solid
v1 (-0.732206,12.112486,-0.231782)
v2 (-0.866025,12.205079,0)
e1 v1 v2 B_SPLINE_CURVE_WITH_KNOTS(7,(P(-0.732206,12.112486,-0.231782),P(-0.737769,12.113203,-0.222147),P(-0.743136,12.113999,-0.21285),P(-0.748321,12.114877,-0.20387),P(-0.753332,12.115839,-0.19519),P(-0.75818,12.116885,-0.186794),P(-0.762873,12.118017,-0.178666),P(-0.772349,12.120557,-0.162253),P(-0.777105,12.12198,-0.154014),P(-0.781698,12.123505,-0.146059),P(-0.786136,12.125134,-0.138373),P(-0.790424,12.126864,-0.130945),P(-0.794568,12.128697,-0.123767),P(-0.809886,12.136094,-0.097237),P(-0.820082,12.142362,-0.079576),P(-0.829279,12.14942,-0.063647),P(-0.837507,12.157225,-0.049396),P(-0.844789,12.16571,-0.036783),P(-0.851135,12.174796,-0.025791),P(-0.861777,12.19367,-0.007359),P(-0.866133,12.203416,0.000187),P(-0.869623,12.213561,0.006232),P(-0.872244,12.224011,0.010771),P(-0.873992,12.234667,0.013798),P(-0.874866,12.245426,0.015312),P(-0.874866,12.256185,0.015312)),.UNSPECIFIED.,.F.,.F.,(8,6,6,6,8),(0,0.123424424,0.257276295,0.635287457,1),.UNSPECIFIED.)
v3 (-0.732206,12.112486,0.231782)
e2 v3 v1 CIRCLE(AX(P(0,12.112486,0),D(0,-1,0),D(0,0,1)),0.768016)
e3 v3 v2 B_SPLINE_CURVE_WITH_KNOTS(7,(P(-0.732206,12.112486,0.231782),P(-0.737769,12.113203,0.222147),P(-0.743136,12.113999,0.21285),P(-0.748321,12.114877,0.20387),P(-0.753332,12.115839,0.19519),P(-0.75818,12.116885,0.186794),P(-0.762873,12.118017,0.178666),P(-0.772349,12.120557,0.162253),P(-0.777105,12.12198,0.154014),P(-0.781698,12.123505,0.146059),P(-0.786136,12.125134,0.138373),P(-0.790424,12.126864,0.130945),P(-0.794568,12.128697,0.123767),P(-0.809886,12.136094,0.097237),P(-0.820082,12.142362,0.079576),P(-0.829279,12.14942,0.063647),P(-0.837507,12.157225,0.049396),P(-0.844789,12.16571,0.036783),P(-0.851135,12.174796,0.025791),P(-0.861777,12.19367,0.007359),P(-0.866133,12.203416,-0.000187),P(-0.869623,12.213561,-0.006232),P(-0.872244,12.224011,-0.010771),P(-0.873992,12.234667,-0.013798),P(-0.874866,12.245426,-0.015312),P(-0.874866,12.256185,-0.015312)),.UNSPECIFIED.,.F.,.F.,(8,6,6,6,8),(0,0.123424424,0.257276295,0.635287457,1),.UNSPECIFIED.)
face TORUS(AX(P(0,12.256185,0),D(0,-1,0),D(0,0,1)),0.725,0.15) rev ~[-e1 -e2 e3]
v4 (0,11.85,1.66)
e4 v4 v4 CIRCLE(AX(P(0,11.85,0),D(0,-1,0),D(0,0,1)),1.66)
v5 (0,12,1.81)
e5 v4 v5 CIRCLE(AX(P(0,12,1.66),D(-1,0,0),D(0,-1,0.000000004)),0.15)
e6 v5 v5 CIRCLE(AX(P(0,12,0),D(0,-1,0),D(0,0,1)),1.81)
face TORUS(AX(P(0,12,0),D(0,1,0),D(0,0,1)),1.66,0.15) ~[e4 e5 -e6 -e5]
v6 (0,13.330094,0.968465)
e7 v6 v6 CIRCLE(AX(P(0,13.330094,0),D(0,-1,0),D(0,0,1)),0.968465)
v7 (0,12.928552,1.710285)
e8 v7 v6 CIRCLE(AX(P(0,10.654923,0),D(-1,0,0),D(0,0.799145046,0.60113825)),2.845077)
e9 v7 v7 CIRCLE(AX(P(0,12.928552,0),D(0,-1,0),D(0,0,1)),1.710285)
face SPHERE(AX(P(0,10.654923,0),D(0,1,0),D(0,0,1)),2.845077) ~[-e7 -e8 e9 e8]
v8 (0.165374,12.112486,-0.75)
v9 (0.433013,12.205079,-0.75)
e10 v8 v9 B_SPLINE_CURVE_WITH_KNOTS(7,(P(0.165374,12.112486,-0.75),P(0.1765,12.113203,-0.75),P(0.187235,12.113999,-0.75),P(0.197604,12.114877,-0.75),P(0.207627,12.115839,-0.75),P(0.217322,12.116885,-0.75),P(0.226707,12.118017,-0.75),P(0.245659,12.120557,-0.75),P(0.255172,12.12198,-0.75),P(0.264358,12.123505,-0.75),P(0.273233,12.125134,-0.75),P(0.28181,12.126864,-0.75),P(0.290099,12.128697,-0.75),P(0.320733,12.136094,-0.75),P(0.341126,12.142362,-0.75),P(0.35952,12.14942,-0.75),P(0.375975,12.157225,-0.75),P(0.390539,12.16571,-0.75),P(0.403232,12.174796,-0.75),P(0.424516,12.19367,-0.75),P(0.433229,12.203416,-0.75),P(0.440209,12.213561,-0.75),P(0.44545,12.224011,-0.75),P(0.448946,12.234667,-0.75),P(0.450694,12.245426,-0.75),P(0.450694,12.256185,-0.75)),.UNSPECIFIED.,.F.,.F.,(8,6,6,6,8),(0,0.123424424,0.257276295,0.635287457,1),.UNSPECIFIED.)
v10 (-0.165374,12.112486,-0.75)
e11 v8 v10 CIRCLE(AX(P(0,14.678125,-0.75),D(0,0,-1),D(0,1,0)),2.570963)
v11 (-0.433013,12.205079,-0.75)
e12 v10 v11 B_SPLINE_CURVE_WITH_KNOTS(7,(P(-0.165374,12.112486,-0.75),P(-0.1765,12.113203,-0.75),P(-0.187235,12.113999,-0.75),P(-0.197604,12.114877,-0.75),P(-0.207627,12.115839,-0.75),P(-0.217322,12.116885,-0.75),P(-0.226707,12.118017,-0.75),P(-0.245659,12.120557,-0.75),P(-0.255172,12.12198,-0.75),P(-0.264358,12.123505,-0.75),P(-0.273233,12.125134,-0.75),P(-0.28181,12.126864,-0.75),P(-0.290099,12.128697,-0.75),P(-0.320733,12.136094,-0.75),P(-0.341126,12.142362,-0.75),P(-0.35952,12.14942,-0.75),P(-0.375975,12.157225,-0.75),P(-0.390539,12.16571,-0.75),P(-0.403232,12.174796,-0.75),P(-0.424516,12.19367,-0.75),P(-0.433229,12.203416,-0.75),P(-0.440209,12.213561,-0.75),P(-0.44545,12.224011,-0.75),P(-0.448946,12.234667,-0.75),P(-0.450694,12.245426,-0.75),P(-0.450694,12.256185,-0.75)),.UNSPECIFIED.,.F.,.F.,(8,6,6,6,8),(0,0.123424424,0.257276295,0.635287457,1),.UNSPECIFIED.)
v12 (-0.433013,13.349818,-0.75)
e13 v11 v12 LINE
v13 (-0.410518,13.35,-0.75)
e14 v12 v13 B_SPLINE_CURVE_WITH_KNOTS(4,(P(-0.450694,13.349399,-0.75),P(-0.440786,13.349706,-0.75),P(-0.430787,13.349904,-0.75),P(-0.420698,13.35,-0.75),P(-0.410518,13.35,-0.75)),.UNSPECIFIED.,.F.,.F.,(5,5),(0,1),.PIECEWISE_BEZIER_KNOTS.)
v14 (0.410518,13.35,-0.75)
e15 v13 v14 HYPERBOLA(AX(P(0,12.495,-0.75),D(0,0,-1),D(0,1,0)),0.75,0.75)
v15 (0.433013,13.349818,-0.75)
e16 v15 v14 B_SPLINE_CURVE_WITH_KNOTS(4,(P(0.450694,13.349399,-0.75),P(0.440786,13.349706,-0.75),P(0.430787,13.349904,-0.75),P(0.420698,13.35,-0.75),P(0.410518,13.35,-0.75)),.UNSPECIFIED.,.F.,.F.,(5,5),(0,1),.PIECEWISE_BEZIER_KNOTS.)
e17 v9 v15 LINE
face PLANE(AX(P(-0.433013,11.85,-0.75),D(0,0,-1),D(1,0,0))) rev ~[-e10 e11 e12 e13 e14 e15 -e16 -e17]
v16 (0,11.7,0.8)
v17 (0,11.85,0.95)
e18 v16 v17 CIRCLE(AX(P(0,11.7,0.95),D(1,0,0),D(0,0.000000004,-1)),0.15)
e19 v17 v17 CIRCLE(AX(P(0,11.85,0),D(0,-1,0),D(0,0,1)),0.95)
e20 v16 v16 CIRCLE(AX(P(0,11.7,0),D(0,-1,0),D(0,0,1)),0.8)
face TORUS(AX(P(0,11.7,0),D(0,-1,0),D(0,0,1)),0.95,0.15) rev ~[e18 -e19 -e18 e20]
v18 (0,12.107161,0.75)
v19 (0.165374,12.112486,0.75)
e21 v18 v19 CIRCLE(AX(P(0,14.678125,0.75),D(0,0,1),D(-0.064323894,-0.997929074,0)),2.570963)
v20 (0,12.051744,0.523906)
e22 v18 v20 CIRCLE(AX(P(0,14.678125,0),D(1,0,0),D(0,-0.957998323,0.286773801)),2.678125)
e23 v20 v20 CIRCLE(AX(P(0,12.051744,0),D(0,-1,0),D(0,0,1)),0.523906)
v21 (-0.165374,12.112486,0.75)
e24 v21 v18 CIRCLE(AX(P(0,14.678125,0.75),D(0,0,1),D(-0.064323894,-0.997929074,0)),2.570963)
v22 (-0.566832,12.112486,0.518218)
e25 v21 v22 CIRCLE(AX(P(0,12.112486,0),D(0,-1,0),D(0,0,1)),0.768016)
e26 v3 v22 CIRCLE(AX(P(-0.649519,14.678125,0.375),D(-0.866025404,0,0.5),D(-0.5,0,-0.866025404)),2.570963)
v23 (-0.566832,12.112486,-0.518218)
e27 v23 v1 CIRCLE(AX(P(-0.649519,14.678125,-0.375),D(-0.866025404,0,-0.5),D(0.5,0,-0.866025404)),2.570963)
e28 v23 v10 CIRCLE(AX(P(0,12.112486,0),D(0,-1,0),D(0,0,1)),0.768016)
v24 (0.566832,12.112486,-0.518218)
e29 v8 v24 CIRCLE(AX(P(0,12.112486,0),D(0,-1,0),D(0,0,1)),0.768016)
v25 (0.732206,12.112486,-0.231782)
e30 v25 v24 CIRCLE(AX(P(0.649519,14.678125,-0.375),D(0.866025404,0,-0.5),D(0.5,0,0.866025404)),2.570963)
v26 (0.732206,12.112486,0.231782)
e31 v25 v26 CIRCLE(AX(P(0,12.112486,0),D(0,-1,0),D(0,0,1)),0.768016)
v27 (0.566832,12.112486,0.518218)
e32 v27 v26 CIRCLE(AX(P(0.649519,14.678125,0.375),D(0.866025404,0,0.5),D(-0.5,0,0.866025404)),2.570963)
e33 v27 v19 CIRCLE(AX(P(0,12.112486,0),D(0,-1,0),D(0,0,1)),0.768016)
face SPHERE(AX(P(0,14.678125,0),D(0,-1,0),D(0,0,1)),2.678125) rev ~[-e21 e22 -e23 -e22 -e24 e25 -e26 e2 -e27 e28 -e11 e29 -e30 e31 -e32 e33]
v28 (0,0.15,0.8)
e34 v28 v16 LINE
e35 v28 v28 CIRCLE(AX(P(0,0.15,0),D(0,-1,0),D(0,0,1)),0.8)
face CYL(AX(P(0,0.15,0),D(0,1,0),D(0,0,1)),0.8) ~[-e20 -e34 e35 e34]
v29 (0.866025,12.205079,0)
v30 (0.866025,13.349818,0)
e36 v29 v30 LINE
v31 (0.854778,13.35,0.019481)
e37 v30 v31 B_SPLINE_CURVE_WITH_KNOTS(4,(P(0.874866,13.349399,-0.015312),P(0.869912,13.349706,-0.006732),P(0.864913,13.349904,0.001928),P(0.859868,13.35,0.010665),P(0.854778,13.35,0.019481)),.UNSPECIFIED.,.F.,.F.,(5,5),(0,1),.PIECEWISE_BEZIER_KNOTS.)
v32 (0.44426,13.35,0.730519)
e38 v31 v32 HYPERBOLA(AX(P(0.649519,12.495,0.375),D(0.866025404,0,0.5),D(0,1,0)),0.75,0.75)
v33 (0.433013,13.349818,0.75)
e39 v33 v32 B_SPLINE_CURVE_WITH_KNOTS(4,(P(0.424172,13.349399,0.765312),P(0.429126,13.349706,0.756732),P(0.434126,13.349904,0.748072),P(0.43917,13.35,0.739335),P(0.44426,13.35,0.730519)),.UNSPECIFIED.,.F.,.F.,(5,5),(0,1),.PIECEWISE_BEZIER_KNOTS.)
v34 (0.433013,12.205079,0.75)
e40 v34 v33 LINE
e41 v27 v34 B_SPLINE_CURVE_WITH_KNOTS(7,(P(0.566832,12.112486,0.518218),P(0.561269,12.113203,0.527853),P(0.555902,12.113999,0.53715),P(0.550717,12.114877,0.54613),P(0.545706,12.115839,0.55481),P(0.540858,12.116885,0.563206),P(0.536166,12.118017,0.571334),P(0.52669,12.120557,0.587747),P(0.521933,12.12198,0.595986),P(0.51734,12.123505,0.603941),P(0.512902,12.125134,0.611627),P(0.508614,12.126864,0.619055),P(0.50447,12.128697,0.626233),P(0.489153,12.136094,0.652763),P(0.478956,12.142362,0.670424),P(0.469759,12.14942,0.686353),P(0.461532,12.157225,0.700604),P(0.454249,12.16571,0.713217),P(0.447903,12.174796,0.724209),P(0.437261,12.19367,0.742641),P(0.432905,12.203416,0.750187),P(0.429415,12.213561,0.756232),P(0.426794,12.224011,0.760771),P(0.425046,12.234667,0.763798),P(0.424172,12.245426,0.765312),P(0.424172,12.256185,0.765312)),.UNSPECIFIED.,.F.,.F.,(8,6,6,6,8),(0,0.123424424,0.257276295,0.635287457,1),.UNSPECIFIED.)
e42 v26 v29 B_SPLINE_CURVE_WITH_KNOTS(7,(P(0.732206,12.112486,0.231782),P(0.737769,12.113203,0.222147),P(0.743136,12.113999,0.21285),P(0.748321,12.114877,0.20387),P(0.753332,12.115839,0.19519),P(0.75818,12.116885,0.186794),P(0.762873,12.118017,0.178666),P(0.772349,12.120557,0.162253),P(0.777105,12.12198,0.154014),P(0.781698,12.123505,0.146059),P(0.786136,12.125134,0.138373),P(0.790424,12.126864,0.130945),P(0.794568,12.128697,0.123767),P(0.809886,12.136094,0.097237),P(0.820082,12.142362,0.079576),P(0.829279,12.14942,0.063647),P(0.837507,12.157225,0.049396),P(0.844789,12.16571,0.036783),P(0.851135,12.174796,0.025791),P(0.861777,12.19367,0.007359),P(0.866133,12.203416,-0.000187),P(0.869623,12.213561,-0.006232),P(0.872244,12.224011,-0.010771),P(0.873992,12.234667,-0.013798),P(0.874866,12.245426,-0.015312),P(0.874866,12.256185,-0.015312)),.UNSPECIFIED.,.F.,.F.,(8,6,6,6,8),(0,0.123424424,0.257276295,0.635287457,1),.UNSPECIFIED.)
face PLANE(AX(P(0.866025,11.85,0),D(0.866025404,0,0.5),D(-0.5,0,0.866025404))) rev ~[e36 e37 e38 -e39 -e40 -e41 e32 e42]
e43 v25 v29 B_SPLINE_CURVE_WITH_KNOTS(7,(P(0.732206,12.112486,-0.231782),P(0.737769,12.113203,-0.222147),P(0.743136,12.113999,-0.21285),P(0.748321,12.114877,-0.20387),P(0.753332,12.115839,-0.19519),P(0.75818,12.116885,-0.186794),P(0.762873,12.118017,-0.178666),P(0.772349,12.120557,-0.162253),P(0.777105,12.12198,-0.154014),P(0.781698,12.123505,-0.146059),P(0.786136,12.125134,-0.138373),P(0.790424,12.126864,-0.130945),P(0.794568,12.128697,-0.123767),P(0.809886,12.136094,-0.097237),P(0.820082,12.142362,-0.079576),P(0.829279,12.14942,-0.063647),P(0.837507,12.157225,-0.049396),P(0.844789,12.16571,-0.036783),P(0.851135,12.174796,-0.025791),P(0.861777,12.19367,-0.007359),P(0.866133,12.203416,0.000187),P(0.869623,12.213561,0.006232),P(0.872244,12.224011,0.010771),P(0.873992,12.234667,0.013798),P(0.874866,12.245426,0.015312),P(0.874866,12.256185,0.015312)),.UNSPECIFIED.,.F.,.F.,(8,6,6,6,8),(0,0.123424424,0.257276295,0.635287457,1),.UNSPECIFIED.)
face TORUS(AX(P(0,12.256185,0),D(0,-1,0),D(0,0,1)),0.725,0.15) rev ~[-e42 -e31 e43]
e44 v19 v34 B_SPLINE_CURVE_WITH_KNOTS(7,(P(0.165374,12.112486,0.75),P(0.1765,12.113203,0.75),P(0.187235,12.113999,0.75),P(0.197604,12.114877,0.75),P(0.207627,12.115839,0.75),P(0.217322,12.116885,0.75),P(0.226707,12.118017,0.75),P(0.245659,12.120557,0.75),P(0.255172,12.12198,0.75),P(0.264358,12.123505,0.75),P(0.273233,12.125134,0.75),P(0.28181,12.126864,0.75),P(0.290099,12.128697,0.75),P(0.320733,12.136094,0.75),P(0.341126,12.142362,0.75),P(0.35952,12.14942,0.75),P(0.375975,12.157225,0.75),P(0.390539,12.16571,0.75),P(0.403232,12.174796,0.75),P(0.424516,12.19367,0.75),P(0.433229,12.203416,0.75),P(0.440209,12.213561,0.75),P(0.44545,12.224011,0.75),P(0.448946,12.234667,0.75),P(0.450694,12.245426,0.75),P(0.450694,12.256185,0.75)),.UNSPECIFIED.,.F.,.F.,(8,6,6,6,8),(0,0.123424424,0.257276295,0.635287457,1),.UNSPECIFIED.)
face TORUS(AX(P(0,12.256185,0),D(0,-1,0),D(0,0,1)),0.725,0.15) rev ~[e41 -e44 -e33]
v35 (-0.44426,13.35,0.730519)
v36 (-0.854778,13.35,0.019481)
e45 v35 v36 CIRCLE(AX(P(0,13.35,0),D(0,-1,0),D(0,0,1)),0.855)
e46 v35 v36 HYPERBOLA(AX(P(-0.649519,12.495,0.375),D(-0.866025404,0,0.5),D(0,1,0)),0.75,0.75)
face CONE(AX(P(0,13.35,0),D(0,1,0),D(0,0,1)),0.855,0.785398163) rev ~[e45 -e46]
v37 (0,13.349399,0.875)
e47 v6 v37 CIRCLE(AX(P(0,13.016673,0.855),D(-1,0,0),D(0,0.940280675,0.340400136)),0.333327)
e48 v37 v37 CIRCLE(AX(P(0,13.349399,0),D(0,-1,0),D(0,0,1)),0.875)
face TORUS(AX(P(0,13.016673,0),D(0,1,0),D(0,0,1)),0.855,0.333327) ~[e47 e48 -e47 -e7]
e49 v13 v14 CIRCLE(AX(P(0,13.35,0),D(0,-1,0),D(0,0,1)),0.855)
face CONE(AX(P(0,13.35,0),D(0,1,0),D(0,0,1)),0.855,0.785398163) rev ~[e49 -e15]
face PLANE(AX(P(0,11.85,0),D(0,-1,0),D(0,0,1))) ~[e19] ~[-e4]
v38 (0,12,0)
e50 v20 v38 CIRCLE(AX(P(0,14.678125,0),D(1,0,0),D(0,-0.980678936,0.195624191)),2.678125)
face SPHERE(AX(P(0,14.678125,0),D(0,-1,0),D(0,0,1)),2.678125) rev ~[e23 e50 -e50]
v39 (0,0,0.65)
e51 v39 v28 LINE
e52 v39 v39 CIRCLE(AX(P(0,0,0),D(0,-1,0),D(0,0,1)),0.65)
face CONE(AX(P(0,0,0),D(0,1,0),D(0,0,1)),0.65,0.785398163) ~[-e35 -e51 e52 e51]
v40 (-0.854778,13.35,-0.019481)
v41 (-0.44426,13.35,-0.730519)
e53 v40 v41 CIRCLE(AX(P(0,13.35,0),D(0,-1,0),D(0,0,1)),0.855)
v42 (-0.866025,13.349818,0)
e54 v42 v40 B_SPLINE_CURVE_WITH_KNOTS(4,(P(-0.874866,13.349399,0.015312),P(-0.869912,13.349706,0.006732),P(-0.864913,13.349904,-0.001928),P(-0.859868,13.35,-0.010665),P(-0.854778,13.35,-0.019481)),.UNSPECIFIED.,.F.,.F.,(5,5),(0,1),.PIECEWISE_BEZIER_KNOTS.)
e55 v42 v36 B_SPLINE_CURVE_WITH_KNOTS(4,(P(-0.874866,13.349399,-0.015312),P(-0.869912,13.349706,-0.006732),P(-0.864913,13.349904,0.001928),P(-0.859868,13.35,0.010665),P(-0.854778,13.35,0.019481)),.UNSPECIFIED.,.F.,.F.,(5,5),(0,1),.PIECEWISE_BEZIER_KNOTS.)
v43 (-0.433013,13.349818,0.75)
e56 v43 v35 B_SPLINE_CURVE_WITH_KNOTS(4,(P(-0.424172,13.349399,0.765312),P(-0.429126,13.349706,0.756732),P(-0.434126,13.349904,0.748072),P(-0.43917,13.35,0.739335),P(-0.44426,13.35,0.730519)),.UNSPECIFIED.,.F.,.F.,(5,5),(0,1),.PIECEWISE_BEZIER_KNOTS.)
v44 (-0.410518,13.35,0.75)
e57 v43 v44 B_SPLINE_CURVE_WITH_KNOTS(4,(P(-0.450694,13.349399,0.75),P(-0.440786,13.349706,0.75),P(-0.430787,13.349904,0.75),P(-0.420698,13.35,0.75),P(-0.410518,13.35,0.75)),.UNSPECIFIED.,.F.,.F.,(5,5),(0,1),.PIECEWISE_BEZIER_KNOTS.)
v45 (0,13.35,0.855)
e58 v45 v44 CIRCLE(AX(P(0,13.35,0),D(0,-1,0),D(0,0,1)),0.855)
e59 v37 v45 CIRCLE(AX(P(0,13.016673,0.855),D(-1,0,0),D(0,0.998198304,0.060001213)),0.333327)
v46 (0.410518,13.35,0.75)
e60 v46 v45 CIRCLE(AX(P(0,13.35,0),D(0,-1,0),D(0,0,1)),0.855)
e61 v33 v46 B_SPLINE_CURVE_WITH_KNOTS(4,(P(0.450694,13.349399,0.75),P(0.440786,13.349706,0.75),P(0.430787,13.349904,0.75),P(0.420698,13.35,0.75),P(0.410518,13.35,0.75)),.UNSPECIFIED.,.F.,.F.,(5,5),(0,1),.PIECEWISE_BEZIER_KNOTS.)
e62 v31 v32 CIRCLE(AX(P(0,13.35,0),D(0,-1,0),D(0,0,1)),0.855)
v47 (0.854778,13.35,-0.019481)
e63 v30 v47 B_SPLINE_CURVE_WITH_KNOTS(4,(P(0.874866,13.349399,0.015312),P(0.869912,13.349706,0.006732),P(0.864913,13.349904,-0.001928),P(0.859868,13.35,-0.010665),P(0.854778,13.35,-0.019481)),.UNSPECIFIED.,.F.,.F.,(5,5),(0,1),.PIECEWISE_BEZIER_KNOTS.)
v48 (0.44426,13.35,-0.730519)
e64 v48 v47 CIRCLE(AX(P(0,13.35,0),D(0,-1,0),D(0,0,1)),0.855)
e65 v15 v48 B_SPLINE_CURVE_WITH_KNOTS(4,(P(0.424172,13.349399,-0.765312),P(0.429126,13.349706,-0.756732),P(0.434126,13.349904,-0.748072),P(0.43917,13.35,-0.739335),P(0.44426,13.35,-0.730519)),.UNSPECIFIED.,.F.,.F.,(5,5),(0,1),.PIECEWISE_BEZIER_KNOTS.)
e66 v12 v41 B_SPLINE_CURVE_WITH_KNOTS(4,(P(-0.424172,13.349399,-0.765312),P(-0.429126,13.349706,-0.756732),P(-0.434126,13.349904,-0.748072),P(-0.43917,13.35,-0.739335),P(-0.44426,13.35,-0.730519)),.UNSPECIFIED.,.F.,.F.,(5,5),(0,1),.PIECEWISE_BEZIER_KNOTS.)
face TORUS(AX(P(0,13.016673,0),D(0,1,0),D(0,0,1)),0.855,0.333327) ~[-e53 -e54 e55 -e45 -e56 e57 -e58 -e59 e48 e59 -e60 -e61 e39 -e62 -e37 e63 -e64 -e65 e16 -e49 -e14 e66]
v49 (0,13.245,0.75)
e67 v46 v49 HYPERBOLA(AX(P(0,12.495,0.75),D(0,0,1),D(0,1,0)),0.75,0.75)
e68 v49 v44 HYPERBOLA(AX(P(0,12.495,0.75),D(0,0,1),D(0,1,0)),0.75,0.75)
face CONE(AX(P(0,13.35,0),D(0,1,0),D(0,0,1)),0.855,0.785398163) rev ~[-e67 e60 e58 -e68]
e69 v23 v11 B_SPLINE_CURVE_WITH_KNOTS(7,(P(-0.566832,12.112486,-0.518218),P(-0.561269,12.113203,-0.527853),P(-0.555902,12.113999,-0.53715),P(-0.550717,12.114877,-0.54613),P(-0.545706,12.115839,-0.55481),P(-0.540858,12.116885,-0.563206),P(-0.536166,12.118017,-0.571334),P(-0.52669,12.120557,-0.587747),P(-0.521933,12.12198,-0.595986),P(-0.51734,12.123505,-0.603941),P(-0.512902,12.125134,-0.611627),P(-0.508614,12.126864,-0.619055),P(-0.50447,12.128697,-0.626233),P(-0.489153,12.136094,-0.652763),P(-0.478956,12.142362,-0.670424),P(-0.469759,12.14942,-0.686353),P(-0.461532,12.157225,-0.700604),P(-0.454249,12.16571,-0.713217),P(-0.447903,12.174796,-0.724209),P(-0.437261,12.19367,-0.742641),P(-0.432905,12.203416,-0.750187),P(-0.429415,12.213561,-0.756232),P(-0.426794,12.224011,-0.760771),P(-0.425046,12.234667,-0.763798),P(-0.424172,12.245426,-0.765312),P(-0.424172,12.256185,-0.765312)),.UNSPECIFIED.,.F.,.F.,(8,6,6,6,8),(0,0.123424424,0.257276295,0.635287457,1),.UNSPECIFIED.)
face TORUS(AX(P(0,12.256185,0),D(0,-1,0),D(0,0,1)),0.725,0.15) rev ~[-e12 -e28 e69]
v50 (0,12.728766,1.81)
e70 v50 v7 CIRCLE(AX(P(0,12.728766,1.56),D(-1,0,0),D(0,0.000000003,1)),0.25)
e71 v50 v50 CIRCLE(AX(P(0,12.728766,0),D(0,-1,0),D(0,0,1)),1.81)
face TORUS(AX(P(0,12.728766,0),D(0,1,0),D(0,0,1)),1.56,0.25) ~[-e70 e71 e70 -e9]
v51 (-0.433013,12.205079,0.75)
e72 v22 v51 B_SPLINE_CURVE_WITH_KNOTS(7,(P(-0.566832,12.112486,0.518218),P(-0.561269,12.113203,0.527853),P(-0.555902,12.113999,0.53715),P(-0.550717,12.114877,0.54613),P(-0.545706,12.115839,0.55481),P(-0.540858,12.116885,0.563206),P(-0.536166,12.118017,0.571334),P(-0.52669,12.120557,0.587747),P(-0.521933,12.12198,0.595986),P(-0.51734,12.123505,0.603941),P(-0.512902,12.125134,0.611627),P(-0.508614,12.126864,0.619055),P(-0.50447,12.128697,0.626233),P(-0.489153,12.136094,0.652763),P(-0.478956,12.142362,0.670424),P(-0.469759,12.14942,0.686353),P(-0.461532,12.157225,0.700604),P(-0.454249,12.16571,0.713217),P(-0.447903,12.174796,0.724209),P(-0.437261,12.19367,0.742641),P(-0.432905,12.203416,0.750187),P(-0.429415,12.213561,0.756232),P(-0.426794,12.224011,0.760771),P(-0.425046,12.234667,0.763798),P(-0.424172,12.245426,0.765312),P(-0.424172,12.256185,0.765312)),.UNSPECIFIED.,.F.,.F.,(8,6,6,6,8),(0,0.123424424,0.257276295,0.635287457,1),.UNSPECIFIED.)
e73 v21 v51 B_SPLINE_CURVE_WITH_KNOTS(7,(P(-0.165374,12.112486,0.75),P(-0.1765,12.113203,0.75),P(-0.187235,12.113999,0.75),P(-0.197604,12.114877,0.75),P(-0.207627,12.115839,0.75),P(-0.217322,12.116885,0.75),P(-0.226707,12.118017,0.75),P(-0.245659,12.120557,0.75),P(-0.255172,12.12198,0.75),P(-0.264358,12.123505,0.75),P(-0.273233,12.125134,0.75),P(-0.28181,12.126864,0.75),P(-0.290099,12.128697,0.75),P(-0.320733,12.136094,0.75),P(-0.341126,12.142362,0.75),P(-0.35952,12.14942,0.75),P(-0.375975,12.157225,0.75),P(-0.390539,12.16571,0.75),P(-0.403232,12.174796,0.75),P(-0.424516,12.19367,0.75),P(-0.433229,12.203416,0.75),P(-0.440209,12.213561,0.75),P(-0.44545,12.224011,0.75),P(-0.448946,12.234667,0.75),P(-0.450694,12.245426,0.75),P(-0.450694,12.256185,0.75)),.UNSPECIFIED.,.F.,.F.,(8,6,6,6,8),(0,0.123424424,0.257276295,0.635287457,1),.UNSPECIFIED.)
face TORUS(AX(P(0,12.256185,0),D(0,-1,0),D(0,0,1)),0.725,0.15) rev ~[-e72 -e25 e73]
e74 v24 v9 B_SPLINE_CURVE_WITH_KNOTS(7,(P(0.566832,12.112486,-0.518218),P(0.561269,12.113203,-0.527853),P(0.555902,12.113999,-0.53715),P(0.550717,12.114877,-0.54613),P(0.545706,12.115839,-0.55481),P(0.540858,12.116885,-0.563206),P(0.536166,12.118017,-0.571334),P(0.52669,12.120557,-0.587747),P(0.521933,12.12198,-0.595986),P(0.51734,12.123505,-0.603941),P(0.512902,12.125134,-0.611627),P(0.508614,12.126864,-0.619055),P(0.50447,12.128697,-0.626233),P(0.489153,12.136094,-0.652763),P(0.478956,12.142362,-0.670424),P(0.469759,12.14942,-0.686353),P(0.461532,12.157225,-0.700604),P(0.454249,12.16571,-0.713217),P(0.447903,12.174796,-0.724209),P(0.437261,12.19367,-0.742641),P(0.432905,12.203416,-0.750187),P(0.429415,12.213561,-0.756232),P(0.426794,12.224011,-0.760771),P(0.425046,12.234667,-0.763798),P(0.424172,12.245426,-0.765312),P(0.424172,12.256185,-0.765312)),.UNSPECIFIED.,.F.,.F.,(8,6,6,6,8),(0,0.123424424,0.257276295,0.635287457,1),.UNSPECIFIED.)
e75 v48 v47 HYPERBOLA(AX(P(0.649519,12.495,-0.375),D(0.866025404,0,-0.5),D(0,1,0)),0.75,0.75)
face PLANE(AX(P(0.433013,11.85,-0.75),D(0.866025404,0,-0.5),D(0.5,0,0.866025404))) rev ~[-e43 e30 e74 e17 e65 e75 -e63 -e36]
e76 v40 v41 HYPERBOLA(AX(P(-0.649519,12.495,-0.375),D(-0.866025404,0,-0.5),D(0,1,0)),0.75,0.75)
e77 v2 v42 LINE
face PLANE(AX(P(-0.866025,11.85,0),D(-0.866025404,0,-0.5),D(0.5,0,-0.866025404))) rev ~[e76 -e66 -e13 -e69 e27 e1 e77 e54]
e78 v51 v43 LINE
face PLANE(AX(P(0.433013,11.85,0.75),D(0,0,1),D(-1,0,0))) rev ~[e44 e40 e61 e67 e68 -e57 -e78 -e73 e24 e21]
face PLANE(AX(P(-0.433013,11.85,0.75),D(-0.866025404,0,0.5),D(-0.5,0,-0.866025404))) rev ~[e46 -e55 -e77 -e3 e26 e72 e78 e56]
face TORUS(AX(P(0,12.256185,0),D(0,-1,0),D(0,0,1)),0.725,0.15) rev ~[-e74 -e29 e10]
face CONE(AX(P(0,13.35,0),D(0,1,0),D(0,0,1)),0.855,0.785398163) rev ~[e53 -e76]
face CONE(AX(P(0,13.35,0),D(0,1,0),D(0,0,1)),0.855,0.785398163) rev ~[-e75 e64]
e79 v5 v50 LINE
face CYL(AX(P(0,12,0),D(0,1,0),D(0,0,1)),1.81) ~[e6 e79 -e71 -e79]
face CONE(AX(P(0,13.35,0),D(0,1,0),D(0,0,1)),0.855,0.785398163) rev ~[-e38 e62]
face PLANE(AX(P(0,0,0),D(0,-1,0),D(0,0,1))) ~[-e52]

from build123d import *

# Parameters (mm, degrees)
CUT_EXTRUDE2_DEPTH = 13.123312269


with BuildPart() as part:
    # Sketch1 → Revolve1 (revolve)
    with BuildSketch(Plane(origin=(0, 0, 0), x_dir=(0, 0, -1), z_dir=(1, 0, 0))):
        with BuildLine():
            ThreePointArc((0.8, 11.7), (0.843933983, 11.806066017), (0.95, 11.85))
            Line((0.95, 11.85), (1.66, 11.85))
            ThreePointArc((1.66, 11.85), (1.766066017, 11.893933983), (1.81, 12))
            Line((1.81, 12), (1.81, 12.728765944))
            ThreePointArc((1.81, 12.728765944), (1.783686321, 12.840410154), (1.710284562, 12.928552205))
            ThreePointArc((1.710284562, 12.928552205), (1.354338624, 13.156968158), (0.968464524, 13.330093943))
            ThreePointArc((0.968464524, 13.330093943), (0.922426778, 13.343109085), (0.875, 13.349399447))
            Line((0.875, 13.349399447), (0.875, 12.256185485))
            ThreePointArc((0.875, 12.256185485), (0.845317103, 12.166609847), (0.768016069, 12.112485736))
            ThreePointArc((0.768016069, 12.112485736), (0.646674627, 12.079247272), (0.523906049, 12.051744226))
            ThreePointArc((0.523906049, 12.051744226), (0.263227569, 12.012967451), (0, 12))
            Line((0, 12), (0, 0))
            Line((0, 0), (0.65, 0))
            Line((0.65, 0), (0.8, 0.15))
            Line((0.8, 0.15), (0.8, 11.7))
        make_face()
    revolve(axis=Axis((0, 13.5, 0), (0, -1, 0)))


with BuildPart() as body_2:
    # Sketch1<3> → Revolve2 (revolve)
    with BuildSketch(Plane(origin=(0, 0, 0), x_dir=(0, 0, -1), z_dir=(1, 0, 0))):
        with BuildLine():
            Line((0.875, 12.256185485), (0.875, 13.349399447))
            ThreePointArc((0.875, 13.349399447), (0.865004507, 13.349849828), (0.855, 13.35))
            Line((0.855, 13.35), (0.725, 13.22))
            Line((0.725, 13.22), (0.725, 12.29691396))
            ThreePointArc((0.725, 12.29691396), (0.668295774, 12.138368245), (0.523906049, 12.051744226))
            ThreePointArc((0.523906049, 12.051744226), (0.646674627, 12.079247272), (0.768016069, 12.112485736))
            ThreePointArc((0.768016069, 12.112485736), (0.845317103, 12.166609847), (0.875, 12.256185485))
        make_face()
    revolve(axis=Axis((0, 13.5, 0), (0, -1, 0)))

    # Sketch2 → Cut-Extrude2 (cut, through all)
    with BuildSketch(Plane.XZ.offset(-11.85)):
        Polygon((-0.433012702, 0.75), (-0.866025404, 0), (-0.433012702, -0.75), (0.433012702, -0.75), (0.866025404, 0), (0.433012702, 0.75), align=None)
    extrude(amount=-CUT_EXTRUDE2_DEPTH, mode=Mode.SUBTRACT)


with BuildPart() as part_1:
    add(part.part)

    # Combine1: union body 2
    add(body_2.part)


solid = part_1.part
